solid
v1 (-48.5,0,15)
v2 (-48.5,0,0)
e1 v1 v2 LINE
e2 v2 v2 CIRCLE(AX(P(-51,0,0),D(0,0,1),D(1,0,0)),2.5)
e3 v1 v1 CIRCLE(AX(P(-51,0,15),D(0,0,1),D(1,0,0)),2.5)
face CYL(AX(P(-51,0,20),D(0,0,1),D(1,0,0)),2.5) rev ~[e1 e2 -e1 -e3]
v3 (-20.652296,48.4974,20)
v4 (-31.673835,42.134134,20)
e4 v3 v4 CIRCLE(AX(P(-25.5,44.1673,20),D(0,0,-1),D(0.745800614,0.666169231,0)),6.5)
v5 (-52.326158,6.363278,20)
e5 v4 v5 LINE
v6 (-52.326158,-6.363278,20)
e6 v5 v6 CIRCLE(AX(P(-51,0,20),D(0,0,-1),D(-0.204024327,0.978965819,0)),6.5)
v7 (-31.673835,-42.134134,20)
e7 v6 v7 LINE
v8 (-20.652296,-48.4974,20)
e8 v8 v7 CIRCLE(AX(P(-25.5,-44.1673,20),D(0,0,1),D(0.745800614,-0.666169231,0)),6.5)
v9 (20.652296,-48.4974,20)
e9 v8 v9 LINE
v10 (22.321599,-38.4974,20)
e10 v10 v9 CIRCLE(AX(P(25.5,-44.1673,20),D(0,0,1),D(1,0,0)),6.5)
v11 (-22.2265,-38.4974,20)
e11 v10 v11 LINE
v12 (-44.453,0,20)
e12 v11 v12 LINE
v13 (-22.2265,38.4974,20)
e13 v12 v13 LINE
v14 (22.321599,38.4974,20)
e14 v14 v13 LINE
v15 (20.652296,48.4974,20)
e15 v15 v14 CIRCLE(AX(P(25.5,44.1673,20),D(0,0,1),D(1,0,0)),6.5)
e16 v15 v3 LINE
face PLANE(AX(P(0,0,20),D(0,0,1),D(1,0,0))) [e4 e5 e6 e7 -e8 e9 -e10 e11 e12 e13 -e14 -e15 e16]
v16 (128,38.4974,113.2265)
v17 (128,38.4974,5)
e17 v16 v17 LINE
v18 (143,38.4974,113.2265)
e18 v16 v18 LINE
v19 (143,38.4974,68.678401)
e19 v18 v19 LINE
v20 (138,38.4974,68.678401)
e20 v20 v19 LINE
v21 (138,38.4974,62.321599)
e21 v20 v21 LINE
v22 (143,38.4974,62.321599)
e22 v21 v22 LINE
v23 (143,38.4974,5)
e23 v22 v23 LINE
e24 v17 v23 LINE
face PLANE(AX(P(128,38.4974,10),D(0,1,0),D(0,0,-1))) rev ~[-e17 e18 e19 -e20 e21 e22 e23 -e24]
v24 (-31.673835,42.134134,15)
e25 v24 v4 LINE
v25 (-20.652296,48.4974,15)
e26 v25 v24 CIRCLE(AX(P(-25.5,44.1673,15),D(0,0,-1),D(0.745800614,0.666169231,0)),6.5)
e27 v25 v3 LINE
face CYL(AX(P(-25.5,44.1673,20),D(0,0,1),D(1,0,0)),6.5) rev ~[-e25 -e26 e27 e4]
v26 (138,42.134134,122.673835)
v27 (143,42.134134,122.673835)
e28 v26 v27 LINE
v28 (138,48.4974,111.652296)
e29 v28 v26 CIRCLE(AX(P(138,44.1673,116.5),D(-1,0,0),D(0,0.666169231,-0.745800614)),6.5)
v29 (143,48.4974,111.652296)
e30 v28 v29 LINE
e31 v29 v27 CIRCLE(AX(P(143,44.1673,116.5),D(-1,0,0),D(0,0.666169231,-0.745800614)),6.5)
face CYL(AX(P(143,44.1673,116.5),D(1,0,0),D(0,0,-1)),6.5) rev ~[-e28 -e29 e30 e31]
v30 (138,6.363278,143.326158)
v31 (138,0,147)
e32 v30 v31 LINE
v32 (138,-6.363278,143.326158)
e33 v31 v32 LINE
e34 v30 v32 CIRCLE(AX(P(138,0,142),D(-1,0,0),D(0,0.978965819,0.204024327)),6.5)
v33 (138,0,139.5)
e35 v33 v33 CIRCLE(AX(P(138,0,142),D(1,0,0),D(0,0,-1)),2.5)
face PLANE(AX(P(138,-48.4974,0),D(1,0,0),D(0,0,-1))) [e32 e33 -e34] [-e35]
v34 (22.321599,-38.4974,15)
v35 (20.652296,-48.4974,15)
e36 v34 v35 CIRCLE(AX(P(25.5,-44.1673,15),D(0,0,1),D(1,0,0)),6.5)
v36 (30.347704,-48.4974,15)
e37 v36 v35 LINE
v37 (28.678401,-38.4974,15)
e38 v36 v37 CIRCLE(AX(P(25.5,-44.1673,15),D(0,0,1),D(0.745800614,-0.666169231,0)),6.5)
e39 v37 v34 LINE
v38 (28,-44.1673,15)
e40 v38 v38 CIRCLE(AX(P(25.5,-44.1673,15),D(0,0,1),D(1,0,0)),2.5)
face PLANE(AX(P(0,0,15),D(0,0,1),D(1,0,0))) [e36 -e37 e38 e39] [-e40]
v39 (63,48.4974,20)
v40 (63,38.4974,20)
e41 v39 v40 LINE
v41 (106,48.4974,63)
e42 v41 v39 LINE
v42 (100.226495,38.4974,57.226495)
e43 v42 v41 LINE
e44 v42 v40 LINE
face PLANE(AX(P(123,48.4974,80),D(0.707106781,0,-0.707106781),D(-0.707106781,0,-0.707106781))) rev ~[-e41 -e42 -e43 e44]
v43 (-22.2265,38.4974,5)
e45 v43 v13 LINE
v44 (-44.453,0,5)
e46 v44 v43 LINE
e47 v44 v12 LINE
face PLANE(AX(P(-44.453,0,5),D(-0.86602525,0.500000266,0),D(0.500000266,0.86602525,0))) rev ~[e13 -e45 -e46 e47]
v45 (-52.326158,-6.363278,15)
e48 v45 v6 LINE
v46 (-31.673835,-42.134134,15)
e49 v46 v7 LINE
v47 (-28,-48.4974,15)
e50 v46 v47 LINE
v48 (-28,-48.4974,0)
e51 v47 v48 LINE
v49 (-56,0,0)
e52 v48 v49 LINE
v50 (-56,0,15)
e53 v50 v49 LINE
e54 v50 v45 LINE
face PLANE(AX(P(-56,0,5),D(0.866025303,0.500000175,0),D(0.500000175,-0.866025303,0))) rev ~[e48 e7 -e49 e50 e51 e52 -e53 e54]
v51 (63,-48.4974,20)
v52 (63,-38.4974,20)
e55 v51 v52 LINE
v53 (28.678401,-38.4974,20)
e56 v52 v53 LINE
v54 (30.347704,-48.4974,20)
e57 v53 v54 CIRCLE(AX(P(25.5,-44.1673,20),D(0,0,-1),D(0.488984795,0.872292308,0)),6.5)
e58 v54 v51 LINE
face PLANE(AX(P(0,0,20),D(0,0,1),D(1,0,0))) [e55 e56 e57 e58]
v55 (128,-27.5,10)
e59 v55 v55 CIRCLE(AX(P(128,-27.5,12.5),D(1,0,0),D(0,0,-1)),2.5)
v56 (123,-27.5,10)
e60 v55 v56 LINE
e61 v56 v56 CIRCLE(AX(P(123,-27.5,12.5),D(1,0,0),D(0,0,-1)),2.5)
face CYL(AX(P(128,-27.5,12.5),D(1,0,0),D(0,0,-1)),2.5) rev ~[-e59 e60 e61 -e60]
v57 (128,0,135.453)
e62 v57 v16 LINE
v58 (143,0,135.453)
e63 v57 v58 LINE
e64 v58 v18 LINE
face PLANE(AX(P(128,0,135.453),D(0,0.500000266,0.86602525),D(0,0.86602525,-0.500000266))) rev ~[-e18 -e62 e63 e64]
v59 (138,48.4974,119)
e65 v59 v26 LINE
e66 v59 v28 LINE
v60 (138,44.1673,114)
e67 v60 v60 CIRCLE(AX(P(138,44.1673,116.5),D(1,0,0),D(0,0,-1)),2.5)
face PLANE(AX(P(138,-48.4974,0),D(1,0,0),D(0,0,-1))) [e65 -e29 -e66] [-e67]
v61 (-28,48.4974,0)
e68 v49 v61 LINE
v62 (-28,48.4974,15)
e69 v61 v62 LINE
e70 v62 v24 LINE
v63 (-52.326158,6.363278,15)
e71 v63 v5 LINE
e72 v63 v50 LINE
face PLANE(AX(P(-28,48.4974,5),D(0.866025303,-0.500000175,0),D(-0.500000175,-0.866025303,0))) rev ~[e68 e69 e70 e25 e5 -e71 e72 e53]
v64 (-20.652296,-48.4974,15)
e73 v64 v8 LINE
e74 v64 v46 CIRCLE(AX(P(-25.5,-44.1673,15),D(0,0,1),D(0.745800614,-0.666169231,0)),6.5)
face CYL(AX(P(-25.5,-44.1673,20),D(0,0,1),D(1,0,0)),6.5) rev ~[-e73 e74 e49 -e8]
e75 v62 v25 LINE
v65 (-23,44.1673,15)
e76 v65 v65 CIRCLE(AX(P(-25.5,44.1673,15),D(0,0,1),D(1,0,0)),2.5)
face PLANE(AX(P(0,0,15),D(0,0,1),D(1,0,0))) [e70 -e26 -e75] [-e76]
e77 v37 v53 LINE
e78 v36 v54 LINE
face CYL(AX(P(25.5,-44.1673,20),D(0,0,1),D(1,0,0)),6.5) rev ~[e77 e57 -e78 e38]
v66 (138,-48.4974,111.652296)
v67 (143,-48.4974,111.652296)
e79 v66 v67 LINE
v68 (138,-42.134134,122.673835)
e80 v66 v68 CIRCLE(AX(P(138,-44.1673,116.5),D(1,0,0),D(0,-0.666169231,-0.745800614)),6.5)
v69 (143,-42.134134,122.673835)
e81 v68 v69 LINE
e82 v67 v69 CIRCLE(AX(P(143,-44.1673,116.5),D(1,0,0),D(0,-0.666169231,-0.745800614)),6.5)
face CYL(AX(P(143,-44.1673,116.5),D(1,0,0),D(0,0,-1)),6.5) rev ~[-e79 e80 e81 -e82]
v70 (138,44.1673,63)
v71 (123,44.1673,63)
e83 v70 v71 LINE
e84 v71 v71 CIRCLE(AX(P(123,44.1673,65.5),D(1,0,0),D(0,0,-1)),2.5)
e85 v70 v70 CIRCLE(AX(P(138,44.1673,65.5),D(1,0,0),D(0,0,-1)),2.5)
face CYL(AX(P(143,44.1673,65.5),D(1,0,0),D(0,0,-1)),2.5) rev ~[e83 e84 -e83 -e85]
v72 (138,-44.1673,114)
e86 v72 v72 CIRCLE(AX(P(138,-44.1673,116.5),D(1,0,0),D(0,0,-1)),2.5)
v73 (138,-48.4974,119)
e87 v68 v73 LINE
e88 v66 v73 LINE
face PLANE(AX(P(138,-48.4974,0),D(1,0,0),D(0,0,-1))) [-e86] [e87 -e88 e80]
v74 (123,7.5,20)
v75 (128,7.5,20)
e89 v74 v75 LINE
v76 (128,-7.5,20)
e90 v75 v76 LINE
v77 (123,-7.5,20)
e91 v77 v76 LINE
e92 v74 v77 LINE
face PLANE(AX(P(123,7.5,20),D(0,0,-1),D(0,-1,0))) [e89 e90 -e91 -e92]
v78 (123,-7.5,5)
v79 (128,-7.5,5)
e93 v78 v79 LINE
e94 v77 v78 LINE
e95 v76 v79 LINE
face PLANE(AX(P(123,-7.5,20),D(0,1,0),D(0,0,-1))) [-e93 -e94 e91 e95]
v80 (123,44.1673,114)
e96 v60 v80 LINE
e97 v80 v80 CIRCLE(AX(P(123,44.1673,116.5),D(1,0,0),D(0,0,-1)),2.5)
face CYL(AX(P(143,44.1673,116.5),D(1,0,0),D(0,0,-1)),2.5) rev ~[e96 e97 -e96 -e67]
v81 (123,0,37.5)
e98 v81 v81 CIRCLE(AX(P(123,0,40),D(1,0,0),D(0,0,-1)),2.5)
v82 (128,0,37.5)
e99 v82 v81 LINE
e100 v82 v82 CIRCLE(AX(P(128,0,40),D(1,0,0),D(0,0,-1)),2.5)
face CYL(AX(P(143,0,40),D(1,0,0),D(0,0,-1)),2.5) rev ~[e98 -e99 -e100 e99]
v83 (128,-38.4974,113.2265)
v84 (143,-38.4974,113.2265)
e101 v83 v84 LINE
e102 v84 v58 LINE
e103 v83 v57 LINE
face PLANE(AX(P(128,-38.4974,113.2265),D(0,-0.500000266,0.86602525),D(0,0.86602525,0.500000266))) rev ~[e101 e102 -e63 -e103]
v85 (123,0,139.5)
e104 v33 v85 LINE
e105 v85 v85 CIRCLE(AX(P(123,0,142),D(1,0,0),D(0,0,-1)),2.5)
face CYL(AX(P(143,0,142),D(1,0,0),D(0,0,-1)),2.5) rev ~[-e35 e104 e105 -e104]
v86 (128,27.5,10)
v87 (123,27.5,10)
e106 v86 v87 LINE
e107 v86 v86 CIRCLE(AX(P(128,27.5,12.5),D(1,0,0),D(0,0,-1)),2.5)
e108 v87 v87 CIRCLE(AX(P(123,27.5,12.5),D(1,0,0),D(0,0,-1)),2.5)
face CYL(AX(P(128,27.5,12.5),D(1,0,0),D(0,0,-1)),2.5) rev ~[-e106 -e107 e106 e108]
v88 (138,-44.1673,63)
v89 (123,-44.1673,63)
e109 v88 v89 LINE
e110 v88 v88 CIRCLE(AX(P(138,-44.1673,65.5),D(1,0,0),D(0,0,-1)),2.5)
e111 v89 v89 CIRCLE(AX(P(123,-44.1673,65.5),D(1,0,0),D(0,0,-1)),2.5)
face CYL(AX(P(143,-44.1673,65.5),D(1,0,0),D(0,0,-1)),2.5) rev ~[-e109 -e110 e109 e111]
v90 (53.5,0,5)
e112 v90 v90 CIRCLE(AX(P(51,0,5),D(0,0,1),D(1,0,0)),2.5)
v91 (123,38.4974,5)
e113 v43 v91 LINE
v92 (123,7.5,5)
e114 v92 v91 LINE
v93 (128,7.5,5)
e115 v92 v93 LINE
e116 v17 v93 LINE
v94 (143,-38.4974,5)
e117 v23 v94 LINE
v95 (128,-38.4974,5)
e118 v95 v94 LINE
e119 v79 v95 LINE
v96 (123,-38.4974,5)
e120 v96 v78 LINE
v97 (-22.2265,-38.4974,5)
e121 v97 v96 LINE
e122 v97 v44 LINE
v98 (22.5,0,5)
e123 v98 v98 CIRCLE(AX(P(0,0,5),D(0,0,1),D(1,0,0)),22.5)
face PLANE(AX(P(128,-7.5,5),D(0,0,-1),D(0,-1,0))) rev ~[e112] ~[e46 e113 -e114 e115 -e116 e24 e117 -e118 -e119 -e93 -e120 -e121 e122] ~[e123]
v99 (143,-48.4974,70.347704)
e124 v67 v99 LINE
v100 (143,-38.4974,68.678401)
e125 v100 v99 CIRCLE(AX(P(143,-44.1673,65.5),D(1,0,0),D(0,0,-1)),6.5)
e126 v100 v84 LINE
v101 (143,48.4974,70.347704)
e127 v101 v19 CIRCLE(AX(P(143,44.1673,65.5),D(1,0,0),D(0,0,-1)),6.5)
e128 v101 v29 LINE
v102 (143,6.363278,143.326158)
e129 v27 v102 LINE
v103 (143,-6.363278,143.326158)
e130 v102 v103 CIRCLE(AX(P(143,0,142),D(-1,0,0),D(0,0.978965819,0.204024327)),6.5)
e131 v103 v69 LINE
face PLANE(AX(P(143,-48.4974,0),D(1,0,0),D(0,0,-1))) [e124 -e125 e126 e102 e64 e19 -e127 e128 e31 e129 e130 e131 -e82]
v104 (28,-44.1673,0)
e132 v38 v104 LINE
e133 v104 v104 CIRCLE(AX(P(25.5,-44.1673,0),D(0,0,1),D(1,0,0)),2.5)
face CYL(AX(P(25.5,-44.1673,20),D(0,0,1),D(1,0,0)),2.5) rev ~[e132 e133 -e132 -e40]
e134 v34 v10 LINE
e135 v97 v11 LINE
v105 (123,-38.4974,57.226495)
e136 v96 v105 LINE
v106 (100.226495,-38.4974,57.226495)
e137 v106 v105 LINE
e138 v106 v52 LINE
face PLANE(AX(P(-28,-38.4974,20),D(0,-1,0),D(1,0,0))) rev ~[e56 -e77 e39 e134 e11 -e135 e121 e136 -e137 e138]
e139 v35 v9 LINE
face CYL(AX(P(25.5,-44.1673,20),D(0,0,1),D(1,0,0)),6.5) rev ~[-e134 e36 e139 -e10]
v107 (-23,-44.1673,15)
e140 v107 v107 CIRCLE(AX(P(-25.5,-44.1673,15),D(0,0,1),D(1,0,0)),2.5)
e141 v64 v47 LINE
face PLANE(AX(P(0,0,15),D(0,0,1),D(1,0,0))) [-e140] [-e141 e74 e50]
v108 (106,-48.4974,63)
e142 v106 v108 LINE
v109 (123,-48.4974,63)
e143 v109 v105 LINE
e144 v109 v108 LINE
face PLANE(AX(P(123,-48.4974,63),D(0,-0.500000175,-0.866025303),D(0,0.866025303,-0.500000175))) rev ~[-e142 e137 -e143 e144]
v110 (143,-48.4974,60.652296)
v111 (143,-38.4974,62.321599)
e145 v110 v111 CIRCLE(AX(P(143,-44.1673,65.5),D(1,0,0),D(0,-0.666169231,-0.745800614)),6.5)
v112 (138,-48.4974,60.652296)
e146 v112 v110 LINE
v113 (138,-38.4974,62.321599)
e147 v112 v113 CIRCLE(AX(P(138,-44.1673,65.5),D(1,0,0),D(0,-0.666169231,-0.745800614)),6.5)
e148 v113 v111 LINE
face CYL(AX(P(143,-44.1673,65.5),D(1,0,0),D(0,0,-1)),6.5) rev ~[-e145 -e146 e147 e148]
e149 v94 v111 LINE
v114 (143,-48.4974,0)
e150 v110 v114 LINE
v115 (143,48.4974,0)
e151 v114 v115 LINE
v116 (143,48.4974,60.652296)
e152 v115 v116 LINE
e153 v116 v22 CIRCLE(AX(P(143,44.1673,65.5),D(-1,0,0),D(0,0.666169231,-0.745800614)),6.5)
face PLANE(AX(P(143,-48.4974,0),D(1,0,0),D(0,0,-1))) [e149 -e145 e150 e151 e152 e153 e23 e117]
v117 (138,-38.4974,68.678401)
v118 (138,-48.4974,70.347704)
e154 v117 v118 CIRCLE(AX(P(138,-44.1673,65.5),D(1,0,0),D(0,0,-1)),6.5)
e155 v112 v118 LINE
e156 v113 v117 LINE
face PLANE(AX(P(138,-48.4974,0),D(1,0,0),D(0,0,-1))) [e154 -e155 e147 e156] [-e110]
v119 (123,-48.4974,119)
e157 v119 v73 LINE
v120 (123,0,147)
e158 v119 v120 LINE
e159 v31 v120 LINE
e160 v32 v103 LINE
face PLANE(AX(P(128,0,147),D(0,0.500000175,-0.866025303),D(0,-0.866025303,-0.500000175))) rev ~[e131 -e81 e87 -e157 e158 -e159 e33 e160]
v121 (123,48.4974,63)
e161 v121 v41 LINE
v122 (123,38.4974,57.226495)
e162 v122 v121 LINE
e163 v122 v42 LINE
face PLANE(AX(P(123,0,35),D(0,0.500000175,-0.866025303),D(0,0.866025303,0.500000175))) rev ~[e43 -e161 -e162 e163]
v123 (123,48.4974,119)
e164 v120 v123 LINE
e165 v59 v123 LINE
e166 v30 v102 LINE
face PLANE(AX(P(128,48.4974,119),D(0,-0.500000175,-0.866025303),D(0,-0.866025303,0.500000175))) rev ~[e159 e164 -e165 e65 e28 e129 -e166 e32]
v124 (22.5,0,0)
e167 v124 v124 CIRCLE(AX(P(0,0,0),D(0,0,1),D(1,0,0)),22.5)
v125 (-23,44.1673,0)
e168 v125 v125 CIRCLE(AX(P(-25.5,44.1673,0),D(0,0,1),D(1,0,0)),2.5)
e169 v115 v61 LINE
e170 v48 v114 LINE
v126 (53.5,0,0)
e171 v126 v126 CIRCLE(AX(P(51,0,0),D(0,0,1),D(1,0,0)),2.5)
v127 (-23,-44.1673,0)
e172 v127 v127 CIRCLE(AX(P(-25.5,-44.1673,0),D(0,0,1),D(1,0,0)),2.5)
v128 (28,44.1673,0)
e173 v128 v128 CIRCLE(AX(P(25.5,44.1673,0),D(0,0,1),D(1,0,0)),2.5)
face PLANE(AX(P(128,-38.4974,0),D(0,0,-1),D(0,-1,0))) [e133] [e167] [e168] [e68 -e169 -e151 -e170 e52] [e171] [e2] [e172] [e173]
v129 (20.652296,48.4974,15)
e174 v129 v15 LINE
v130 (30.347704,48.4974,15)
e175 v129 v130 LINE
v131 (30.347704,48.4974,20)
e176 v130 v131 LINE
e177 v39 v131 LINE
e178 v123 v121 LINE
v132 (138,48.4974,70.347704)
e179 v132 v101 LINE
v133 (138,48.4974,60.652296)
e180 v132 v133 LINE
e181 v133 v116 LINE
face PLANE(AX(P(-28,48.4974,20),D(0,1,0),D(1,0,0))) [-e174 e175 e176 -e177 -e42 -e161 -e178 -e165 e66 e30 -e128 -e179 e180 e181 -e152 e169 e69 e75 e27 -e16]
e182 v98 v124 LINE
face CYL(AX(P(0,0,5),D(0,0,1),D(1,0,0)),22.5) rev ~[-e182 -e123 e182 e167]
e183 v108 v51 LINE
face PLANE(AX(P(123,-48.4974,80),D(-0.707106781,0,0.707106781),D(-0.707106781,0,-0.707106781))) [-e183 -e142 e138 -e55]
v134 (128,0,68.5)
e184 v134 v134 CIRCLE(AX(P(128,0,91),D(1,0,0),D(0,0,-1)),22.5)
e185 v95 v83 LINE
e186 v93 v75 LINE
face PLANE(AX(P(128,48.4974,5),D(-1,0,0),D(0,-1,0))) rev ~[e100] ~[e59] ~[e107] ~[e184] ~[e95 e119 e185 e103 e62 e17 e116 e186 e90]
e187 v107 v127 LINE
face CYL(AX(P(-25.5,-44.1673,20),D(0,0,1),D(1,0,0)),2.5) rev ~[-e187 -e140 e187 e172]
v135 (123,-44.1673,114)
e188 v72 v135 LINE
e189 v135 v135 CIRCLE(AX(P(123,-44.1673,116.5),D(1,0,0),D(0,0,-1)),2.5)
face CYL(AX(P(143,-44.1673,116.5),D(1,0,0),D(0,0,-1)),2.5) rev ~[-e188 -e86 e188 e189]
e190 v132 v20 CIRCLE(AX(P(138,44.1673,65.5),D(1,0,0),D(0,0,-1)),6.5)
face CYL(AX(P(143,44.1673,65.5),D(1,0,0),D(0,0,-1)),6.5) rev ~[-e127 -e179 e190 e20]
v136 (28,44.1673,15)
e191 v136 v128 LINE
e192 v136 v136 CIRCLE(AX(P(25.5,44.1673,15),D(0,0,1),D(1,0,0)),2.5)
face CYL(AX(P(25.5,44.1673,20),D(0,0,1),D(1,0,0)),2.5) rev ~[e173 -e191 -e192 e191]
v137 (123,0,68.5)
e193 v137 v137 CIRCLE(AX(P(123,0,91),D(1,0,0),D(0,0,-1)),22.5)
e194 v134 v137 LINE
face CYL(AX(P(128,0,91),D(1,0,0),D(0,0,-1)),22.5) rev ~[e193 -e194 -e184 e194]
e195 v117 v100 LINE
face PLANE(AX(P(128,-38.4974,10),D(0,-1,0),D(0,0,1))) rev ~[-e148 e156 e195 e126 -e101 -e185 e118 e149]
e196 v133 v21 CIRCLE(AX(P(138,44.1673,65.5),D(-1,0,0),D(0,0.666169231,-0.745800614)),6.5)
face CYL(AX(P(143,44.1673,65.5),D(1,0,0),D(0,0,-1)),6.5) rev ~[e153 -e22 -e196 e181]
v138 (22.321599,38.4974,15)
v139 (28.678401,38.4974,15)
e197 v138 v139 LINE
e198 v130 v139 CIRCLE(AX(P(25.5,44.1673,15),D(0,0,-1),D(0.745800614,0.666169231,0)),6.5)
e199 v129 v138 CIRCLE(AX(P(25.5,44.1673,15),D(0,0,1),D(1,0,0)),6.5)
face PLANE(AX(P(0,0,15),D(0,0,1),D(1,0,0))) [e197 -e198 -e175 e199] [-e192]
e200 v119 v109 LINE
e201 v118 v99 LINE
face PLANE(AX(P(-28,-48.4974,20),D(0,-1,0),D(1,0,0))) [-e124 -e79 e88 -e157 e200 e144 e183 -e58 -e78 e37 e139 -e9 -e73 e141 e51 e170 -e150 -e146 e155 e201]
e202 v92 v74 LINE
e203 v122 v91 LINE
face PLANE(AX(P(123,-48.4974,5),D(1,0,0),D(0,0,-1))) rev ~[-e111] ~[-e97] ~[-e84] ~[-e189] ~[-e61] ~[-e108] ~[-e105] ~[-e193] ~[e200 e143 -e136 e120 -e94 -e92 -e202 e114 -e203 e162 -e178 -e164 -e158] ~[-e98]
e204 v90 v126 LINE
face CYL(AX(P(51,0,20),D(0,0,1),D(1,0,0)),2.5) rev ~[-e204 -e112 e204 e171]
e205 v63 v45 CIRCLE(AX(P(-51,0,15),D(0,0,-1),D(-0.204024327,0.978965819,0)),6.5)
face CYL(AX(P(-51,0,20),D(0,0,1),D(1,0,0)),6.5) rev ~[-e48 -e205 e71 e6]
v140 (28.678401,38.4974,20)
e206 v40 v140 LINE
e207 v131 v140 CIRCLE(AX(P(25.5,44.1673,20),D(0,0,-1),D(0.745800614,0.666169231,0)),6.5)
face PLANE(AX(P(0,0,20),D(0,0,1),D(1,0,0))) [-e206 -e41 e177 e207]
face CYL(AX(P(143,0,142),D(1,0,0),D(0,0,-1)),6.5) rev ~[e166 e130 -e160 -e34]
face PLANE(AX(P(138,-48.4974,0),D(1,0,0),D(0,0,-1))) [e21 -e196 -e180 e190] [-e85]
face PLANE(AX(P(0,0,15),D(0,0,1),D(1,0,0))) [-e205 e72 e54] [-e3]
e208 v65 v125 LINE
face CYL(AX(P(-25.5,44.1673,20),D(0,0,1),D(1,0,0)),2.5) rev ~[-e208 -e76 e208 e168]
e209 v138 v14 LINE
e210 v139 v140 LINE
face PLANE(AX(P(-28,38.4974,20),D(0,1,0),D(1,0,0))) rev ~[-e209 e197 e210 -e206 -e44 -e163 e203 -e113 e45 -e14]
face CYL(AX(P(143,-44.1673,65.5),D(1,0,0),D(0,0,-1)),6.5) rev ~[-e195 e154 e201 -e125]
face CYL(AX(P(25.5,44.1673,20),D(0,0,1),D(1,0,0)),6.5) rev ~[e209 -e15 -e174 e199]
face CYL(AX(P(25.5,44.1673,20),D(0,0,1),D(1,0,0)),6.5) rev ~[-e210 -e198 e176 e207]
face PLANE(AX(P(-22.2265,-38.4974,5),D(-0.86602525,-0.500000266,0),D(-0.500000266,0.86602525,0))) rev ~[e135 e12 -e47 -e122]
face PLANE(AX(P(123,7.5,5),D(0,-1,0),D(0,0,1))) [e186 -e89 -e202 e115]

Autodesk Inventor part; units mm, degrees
ref_plane "YZ Plane" through (0, 0, 0) normal (1, 0, 0) x (0, 1, 0)
ref_plane "XZ Plane" through (0, 0, 0) normal (0, 1, 0) x (-1, 0, 0)
ref_plane "XY Plane" through (0, 0, 0) normal (0, 0, 1) x (1, 0, 0)
sketch "Sketch1" plane through (0, 0, 0) normal (0, 0, 1) x (1, 0, 0)
  line L0 (-56, 0) -> (-28, 48.4974)
  line L1 (-28, 48.4974) -> (28, 48.4974)
  line L2 (28, 48.4974) -> (56, 0)
  line L3 (56, 0) -> (28, -48.4974)
  line L4 (28, -48.4974) -> (-28, -48.4974)
  line L5 (-28, -48.4974) -> (-56, 0)
  circle A0 centre (0, 30) radius 2.5
  circle A1 centre (-25.9808, 15) radius 2.5
  circle A2 centre (-25.9808, -15) radius 2.5
  circle A3 centre (0, -30) radius 2.5
  circle A4 centre (25.9808, -15) radius 2.5
  circle A5 centre (25.9808, 15) radius 2.5
  point P0 (0, 0)
  point P1 (0, 0)
  dimension "d0" = 112
  dimension "d1" = 5
  dimension "d2" = 30
  dimension "d5" = 360
extrude "Extrusion1" add sketch "Sketch1" along normal blind 5
sketch "Sketch2" plane through (0, 0, 5) normal (0, 0, 1) x (1, 0, 0)
  line L0 (28, 48.4974) -> (-28, 48.4974) projected
  line L1 (28, 48.4974) -> (128, 48.4974)
  line L2 (128, 48.4974) -> (128, -48.4974)
  line L3 (128, -48.4974) -> (28, -48.4974)
  circle A0 centre (25.9808, 15) radius 2.5 projected
  circle A1 centre (25.9808, -15) radius 2.5 projected
  line L4 (56, 0) -> (28, 48.4974) projected
  line L5 (28, -48.4974) -> (56, 0) projected
  line L6 (-28, -48.4974) -> (28, -48.4974) projected
  line L7 (28, -48.4974) -> (56, 0)
  line L8 (28, 48.4974) -> (56, 0)
  line L9 (28, -48.4974) -> (128, -48.4974)
  line L10 (28, 48.4974) -> (128, 48.4974)
  point P0 (0, 0)
  dimension "d10" = 100
extrude "Extrusion2" add sketch "Sketch2" against normal blind 5 contours L1 L2 L3 L5 L4
sketch "Sketch3" plane through (128, -48.4974, 5) normal (1, 0, 0) x (0, 0, -1)
  line L0 (0, 0) -> (0, 96.9948) projected
  line L1 (-58, 96.9948) -> (-30, 48.4974)
  line L2 (-30, 48.4974) -> (-58, 0)
  line L3 (-58, 0) -> (-114, 0)
  line L4 (-114, 0) -> (-142, 48.4974)
  line L5 (-142, 48.4974) -> (-114, 96.9948)
  line L6 (-114, 96.9948) -> (-58, 96.9948)
  line L7 (0, 0) -> (-58, 0)
  line L8 (-58, 0) -> (-58, 96.9948) construction
  line L9 (-58, 96.9948) -> (0, 96.9948)
  line L10 (0, 96.9948) -> (0, 0)
  circle A0 centre (-86, 78.4974) radius 2.5
  circle A1 centre (-111.9808, 63.4974) radius 2.5
  circle A2 centre (-111.9808, 33.4974) radius 2.5
  circle A3 centre (-86, 18.4974) radius 2.5
  circle A4 centre (-60.0192, 33.4974) radius 2.5
  circle A5 centre (-60.0192, 63.4974) radius 2.5
  line L11 (-58, 0) -> (-30, 48.4974)
  line L12 (-30, 48.4974) -> (-58, 96.9948)
  line L13 (-58, 96.9948) -> (0, 96.9948)
  line L14 (0, 48.4974) -> (0, 0) projected
  line L15 (-58, 0) -> (0, 0)
  circle A6 centre (-86, 48.4974) radius 22.5
  point P0 (5, 48.4974)
  dimension "d17" = 112
  dimension "d18" = 30
  dimension "d19" = 5
  dimension "d20" = 30
  dimension "d23" = 360
  dimension "d27" = 45
extrude "Extrusion3" add sketch "Sketch3" against normal blind 5
sketch "Sketch4" plane through (0, 0, 5) normal (0, 0, 1) x (1, 0, 0)
  circle A0 centre (0, 0) radius 22.5
  dimension "d28" = 45
extrude "Extrusion4" cut sketch "Sketch4" against normal through all
sketch "Sketch5" plane through (0, 0, 5) normal (0, 0, 1) x (1, 0, 0)
  circle A0 centre (0, 0) radius 22.5 projected
  line L0 (123, -48.4974) -> (123, 48.4974) construction
  line L1 (123, 48.4974) -> (-28, 48.4974) projected
  line L2 (-28, 48.4974) -> (-56, 0) projected
  line L3 (-56, 0) -> (-28, -48.4974) projected
  line L4 (-28, -48.4974) -> (123, -48.4974) projected
  circle A1 centre (25.9808, 15) radius 2.5 projected
  circle A2 centre (25.9808, -15) radius 2.5 projected
  circle A3 centre (0, -30) radius 2.5 projected
  circle A4 centre (-25.9808, -15) radius 2.5 projected
  circle A5 centre (-25.9808, 15) radius 2.5 projected
  circle A6 centre (0, 30) radius 2.5 projected
  line L5 (-22.2265, 38.4974) -> (113, 38.4974)
  line L6 (113, 38.4974) -> (113, -38.4974) construction
  line L7 (113, -38.4974) -> (-22.2265, -38.4974)
  line L8 (-22.2265, -38.4974) -> (-44.453, 0)
  line L9 (-44.453, 0) -> (-22.2265, 38.4974)
  line L10 (113, 38.4974) -> (123, 38.4974)
  line L11 (123, -48.4974) -> (123, 48.4974) projected
  line L12 (123, 48.4974) -> (123, 38.4974)
  line L13 (113, -38.4974) -> (123, -38.4974)
  line L14 (123, -38.4974) -> (123, -48.4974)
  dimension "d31" = 10
extrude "Extrusion5" add sketch "Sketch5" along normal blind 15 contours L11 L10 L5 L9 L8 L7 L13 L4 L3 L2 L1
sketch "Sketch7" plane through (123, -48.4974, 5) normal (-1, 0, 0) x (0, 0, 1)
  circle A0 centre (86, 78.4974) radius 2.5 projected
  circle A1 centre (111.9808, 63.4974) radius 2.5 projected
  circle A2 centre (111.9808, 33.4974) radius 2.5 projected
  circle A3 centre (86, 18.4974) radius 2.5 projected
  circle A4 centre (60.0192, 33.4974) radius 2.5 projected
  circle A5 centre (60.0192, 63.4974) radius 2.5 projected
  circle A6 centre (86, 48.4974) radius 22.5 projected
  line L0 (15, 96.9948) -> (15, 86.9948) projected
  line L1 (15, 86.9948) -> (0, 86.9948) projected
  line L2 (0, 10) -> (0, 86.9948) projected
  line L3 (0, 10) -> (15, 10) projected
  line L4 (15, 10) -> (15, 0) projected
  line L5 (15, 0) -> (114, 0) projected
  line L6 (114, 0) -> (142, 48.4974) projected
  line L7 (142, 48.4974) -> (114, 96.9948) projected
  line L8 (114, 96.9948) -> (15, 96.9948) projected
  line L9 (0, 55.9974) -> (15, 55.9974)
  line L10 (15, 55.9974) -> (15, 40.9974)
  line L11 (15, 40.9974) -> (0, 40.9974)
  line L12 (0, 40.9974) -> (0, 55.9974)
  point P0 (-5, 48.4974)
  point P1 (0, 48.4974)
  dimension "d34" = 15
extrude "Extrusion6" cut sketch "Sketch7" against normal through all contours L9 L10 L11 L2
sketch "Sketch8" plane through (128, -48.4974, 0) normal (1, 0, 0) x (0, 0, -1)
  line L0 (-5, 40.9974) -> (-20, 40.9974) projected
  line L1 (-20, 40.9974) -> (-20, 55.9974) projected
  line L2 (-20, 55.9974) -> (-5, 55.9974) projected
  line L3 (-5, 55.9974) -> (-5, 40.9974) projected
  circle A0 centre (-91, 78.4974) radius 2.5 projected
  circle A1 centre (-116.9808, 63.4974) radius 2.5 projected
  circle A2 centre (-116.9808, 33.4974) radius 2.5 projected
  circle A3 centre (-91, 18.4974) radius 2.5 projected
  circle A4 centre (-65.0192, 33.4974) radius 2.5 projected
  circle A5 centre (-65.0192, 63.4974) radius 2.5 projected
  circle A6 centre (-91, 48.4974) radius 22.5 projected
  line L4 (-119, 0) -> (0, 0) projected
  line L5 (0, 96.9948) -> (0, 0) projected
  line L6 (0, 96.9948) -> (-119, 96.9948) projected
  line L7 (-119, 96.9948) -> (-147, 48.4974) projected
  line L8 (-147, 48.4974) -> (-119, 0) projected
  line L9 (-113.2265, 86.9948) -> (-10, 86.9948)
  line L10 (-10, 86.9948) -> (-10, 10) construction
  line L11 (-10, 10) -> (-113.2265, 10)
  line L12 (-113.2265, 10) -> (-135.453, 48.4974)
  line L13 (-135.453, 48.4974) -> (-113.2265, 86.9948)
  line L14 (-10, 86.9948) -> (0, 86.9948)
  line L15 (-10, 10) -> (0, 10)
  line L16 (0, 96.9948) -> (0, 0) projected
  point P0 (0, 48.4974)
  dimension "d37" = 10
extrude "Extrusion7" add sketch "Sketch8" along normal blind 15 contours L8 L7 L6 L5 L14 L9 L13 L12 L11 L15 L4
sketch "Sketch9" plane through (128, -38.4974, 0) normal (1, 0, 0) x (0, 0, -1)
  line L0 (0, 76.9948) -> (0, 86.9948) projected
  line L1 (0, 76.9948) -> (-5, 76.9948)
  line L2 (-5, 76.9948) -> (-5, -0.838)
  line L3 (-5, -0.838) -> (0, -0.838)
  line L4 (0, -0.838) -> (0, 76.9948)
  line L5 (-5, 45.9974) -> (-5, 30.9974) projected
  point P0 (0, 38.4974)
extrude "Extrusion8" add sketch "Sketch9" along normal blind 15
sketch "Sketch10" plane through (128, -7.5, 20) normal (1, 0, 0) x (0, 0, -1)
  circle A0 centre (7.5, 35) radius 2.5
  circle A1 centre (7.5, -20) radius 2.5
  line L0 (0, 15) -> (15, 15) construction
  line L1 (7.5, -20) -> (7.5, 35) construction
  line L2 (0, 0) -> (0, 15) construction
  point P0 (20, 7.5)
  point P1 (7.5, 15)
  point P2 (7.5, 7.5)
  point P3 (0, 7.5)
  dimension "d42" = 5
  dimension "d43" = 5
  dimension "d44" = 55
extrude "Extrusion9" cut sketch "Sketch10" against normal blind 20
sketch "Sketch12" plane through (-28, 48.4974, 20) normal (0, 1, 0) x (1, 0, 0)
  line L0 (151, 0) -> (151, -99) construction
  line L1 (151, -60) -> (91, 0)
  line L2 (151, 0) -> (5.7735, 0) construction
  line L3 (151, 15) -> (151, 0) projected
  line L4 (91, 0) -> (151, 0)
  line L5 (151, 0) -> (151, -60)
  point P0 (28, 20)
  dimension "d47" = 60
  dimension "d48" = 60
extrude "Extrusion10" add sketch "Sketch12" against normal blind 10
sketch "Sketch13" plane through (-28, -48.4974, 20) normal (0, -1, 0) x (1, 0, 0)
  line L0 (151, 60) -> (91, 0) projected
  line L1 (0, 0) -> (151, 0) projected
  line L2 (151, 0) -> (151, 99) projected
  line L3 (91, 0) -> (151, 0)
  line L4 (151, 60) -> (151, -15) projected
  line L5 (151, 60) -> (151, 0)
  point P0 (28, -20)
extrude "Extrusion11" add sketch "Sketch13" against normal blind 10
sketch "Sketch14" plane through (123, -48.4974, 5) normal (-1, 0, 0) x (0, 0, 1)
  circle A0 centre (86, 48.4974) radius 22.5 projected
  line L0 (114, 96.9948) -> (142, 48.4974) projected
  line L1 (142, 48.4974) -> (114, 0)
  line L2 (114, 0) -> (58, 0)
  line L3 (58, 0) -> (30, 48.4974)
  line L4 (30, 48.4974) -> (58, 96.9948)
  line L5 (58, 96.9948) -> (114, 96.9948)
  line L6 (114, 96.9948) -> (142, 48.4974)
  point P0 (-5, 48.4974)
extrude "Extrusion12" cut sketch "Sketch14" along normal through all
sketch "Sketch16" plane through (143, -48.4974, 0) normal (1, 0, 0) x (0, 0, -1)
  circle A0 centre (-91, 48.4974) radius 22.5 construction
  circle A1 centre (-142, 48.4974) radius 2.5
  circle A2 centre (-116.5, 4.3301) radius 2.5
  circle A3 centre (-65.5, 4.3301) radius 2.5
  circle A4 centre (-40, 48.4974) radius 2.5
  circle A5 centre (-65.5, 92.6647) radius 2.5
  circle A6 centre (-116.5, 92.6647) radius 2.5
  point P0 (0, 48.4974)
  point P1 (-147, 48.4974)
  dimension "d55" = 5
  dimension "d56" = 5
  dimension "d59" = 360
extrude "Extrusion13" cut sketch "Sketch16" against normal through all
sketch "Sketch17" plane through (143, -48.4974, 0) normal (1, 0, 0) x (0, 0, -1)
  circle A0 centre (-142, 48.4974) radius 2.5 projected
  circle A1 centre (-91, 48.4974) radius 22.5 construction
  circle A2 centre (-142, 48.4974) radius 6.5
  circle A3 centre (-116.5, 4.3301) radius 6.5
  circle A4 centre (-65.5, 4.3301) radius 6.5
  circle A5 centre (-40, 48.4974) radius 6.5
  circle A6 centre (-65.5, 92.6647) radius 6.5
  circle A7 centre (-116.5, 92.6647) radius 6.5
  point P0 (0, 48.4974)
  dimension "d63" = 13
  dimension "d66" = 360
extrude "Extrusion14" cut sketch "Sketch17" against normal blind 5 contours A0 | A2 | A3 | A4 | A5 | A6 | A7
sketch "Sketch18" plane through (0, 0, 20) normal (0, 0, 1) x (1, 0, 0)
  circle A0 centre (-51, 0) radius 2.5
  circle A1 centre (-25.5, -44.1673) radius 2.5
  circle A2 centre (25.5, -44.1673) radius 2.5
  circle A3 centre (51, 0) radius 2.5
  circle A4 centre (25.5, 44.1673) radius 2.5
  circle A5 centre (-25.5, 44.1673) radius 2.5
  point P0 (0, 0)
  point P1 (-56, 0)
  dimension "d70" = 5
  dimension "d71" = 5
  dimension "d74" = 360
extrude "Extrusion15" cut sketch "Sketch18" against normal through all
sketch "Sketch19" plane through (0, 0, 20) normal (0, 0, 1) x (1, 0, 0)
  circle A0 centre (-51, 0) radius 2.5 projected
  circle A1 centre (-51, 0) radius 6.5
  circle A2 centre (-25.5, -44.1673) radius 6.5
  circle A3 centre (25.5, -44.1673) radius 6.5
  circle A4 centre (51, 0) radius 6.5
  circle A5 centre (25.5, 44.1673) radius 6.5
  circle A6 centre (-25.5, 44.1673) radius 6.5
  point P0 (0, 0)
  dimension "d78" = 13
  dimension "d81" = 360
extrude "Extrusion16" cut sketch "Sketch19" against normal blind 5 contours A0 | A1 | A2 | A3 | A4 | A5 | A6
sketch "Sketch20" plane through (0, 0, 5) normal (0, 0, 1) x (1, 0, 0)
  circle A0 centre (25.9808, -15) radius 2.5 projected
  circle A1 centre (25.9808, 15) radius 2.5 projected
  circle A2 centre (0, 30) radius 2.5 projected
  circle A3 centre (-25.9808, 15) radius 2.5 projected
  circle A4 centre (-25.9808, -15) radius 2.5 projected
  circle A5 centre (0, -30) radius 2.5 projected
  point P0 (0, 0)
extrude "Extrusion17" add sketch "Sketch20" against normal blind 5
sketch "Sketch21" plane through (123, -48.4974, 5) normal (-1, 0, 0) x (0, 0, 1)
  circle A0 centre (86, 78.4974) radius 2.5 projected
  circle A1 centre (60.0192, 63.4974) radius 2.5 projected
  circle A2 centre (60.0192, 33.4974) radius 2.5 projected
  circle A3 centre (86, 18.4974) radius 2.5 projected
  circle A4 centre (111.9808, 33.4974) radius 2.5 projected
  circle A5 centre (111.9808, 63.4974) radius 2.5 projected
  point P0 (-5, 48.4974)
extrude "Extrusion18" add sketch "Sketch21" against normal blind 5
equation "\"d29\" = d28"
properties part number "TARM03" material "ABS Plastic"
